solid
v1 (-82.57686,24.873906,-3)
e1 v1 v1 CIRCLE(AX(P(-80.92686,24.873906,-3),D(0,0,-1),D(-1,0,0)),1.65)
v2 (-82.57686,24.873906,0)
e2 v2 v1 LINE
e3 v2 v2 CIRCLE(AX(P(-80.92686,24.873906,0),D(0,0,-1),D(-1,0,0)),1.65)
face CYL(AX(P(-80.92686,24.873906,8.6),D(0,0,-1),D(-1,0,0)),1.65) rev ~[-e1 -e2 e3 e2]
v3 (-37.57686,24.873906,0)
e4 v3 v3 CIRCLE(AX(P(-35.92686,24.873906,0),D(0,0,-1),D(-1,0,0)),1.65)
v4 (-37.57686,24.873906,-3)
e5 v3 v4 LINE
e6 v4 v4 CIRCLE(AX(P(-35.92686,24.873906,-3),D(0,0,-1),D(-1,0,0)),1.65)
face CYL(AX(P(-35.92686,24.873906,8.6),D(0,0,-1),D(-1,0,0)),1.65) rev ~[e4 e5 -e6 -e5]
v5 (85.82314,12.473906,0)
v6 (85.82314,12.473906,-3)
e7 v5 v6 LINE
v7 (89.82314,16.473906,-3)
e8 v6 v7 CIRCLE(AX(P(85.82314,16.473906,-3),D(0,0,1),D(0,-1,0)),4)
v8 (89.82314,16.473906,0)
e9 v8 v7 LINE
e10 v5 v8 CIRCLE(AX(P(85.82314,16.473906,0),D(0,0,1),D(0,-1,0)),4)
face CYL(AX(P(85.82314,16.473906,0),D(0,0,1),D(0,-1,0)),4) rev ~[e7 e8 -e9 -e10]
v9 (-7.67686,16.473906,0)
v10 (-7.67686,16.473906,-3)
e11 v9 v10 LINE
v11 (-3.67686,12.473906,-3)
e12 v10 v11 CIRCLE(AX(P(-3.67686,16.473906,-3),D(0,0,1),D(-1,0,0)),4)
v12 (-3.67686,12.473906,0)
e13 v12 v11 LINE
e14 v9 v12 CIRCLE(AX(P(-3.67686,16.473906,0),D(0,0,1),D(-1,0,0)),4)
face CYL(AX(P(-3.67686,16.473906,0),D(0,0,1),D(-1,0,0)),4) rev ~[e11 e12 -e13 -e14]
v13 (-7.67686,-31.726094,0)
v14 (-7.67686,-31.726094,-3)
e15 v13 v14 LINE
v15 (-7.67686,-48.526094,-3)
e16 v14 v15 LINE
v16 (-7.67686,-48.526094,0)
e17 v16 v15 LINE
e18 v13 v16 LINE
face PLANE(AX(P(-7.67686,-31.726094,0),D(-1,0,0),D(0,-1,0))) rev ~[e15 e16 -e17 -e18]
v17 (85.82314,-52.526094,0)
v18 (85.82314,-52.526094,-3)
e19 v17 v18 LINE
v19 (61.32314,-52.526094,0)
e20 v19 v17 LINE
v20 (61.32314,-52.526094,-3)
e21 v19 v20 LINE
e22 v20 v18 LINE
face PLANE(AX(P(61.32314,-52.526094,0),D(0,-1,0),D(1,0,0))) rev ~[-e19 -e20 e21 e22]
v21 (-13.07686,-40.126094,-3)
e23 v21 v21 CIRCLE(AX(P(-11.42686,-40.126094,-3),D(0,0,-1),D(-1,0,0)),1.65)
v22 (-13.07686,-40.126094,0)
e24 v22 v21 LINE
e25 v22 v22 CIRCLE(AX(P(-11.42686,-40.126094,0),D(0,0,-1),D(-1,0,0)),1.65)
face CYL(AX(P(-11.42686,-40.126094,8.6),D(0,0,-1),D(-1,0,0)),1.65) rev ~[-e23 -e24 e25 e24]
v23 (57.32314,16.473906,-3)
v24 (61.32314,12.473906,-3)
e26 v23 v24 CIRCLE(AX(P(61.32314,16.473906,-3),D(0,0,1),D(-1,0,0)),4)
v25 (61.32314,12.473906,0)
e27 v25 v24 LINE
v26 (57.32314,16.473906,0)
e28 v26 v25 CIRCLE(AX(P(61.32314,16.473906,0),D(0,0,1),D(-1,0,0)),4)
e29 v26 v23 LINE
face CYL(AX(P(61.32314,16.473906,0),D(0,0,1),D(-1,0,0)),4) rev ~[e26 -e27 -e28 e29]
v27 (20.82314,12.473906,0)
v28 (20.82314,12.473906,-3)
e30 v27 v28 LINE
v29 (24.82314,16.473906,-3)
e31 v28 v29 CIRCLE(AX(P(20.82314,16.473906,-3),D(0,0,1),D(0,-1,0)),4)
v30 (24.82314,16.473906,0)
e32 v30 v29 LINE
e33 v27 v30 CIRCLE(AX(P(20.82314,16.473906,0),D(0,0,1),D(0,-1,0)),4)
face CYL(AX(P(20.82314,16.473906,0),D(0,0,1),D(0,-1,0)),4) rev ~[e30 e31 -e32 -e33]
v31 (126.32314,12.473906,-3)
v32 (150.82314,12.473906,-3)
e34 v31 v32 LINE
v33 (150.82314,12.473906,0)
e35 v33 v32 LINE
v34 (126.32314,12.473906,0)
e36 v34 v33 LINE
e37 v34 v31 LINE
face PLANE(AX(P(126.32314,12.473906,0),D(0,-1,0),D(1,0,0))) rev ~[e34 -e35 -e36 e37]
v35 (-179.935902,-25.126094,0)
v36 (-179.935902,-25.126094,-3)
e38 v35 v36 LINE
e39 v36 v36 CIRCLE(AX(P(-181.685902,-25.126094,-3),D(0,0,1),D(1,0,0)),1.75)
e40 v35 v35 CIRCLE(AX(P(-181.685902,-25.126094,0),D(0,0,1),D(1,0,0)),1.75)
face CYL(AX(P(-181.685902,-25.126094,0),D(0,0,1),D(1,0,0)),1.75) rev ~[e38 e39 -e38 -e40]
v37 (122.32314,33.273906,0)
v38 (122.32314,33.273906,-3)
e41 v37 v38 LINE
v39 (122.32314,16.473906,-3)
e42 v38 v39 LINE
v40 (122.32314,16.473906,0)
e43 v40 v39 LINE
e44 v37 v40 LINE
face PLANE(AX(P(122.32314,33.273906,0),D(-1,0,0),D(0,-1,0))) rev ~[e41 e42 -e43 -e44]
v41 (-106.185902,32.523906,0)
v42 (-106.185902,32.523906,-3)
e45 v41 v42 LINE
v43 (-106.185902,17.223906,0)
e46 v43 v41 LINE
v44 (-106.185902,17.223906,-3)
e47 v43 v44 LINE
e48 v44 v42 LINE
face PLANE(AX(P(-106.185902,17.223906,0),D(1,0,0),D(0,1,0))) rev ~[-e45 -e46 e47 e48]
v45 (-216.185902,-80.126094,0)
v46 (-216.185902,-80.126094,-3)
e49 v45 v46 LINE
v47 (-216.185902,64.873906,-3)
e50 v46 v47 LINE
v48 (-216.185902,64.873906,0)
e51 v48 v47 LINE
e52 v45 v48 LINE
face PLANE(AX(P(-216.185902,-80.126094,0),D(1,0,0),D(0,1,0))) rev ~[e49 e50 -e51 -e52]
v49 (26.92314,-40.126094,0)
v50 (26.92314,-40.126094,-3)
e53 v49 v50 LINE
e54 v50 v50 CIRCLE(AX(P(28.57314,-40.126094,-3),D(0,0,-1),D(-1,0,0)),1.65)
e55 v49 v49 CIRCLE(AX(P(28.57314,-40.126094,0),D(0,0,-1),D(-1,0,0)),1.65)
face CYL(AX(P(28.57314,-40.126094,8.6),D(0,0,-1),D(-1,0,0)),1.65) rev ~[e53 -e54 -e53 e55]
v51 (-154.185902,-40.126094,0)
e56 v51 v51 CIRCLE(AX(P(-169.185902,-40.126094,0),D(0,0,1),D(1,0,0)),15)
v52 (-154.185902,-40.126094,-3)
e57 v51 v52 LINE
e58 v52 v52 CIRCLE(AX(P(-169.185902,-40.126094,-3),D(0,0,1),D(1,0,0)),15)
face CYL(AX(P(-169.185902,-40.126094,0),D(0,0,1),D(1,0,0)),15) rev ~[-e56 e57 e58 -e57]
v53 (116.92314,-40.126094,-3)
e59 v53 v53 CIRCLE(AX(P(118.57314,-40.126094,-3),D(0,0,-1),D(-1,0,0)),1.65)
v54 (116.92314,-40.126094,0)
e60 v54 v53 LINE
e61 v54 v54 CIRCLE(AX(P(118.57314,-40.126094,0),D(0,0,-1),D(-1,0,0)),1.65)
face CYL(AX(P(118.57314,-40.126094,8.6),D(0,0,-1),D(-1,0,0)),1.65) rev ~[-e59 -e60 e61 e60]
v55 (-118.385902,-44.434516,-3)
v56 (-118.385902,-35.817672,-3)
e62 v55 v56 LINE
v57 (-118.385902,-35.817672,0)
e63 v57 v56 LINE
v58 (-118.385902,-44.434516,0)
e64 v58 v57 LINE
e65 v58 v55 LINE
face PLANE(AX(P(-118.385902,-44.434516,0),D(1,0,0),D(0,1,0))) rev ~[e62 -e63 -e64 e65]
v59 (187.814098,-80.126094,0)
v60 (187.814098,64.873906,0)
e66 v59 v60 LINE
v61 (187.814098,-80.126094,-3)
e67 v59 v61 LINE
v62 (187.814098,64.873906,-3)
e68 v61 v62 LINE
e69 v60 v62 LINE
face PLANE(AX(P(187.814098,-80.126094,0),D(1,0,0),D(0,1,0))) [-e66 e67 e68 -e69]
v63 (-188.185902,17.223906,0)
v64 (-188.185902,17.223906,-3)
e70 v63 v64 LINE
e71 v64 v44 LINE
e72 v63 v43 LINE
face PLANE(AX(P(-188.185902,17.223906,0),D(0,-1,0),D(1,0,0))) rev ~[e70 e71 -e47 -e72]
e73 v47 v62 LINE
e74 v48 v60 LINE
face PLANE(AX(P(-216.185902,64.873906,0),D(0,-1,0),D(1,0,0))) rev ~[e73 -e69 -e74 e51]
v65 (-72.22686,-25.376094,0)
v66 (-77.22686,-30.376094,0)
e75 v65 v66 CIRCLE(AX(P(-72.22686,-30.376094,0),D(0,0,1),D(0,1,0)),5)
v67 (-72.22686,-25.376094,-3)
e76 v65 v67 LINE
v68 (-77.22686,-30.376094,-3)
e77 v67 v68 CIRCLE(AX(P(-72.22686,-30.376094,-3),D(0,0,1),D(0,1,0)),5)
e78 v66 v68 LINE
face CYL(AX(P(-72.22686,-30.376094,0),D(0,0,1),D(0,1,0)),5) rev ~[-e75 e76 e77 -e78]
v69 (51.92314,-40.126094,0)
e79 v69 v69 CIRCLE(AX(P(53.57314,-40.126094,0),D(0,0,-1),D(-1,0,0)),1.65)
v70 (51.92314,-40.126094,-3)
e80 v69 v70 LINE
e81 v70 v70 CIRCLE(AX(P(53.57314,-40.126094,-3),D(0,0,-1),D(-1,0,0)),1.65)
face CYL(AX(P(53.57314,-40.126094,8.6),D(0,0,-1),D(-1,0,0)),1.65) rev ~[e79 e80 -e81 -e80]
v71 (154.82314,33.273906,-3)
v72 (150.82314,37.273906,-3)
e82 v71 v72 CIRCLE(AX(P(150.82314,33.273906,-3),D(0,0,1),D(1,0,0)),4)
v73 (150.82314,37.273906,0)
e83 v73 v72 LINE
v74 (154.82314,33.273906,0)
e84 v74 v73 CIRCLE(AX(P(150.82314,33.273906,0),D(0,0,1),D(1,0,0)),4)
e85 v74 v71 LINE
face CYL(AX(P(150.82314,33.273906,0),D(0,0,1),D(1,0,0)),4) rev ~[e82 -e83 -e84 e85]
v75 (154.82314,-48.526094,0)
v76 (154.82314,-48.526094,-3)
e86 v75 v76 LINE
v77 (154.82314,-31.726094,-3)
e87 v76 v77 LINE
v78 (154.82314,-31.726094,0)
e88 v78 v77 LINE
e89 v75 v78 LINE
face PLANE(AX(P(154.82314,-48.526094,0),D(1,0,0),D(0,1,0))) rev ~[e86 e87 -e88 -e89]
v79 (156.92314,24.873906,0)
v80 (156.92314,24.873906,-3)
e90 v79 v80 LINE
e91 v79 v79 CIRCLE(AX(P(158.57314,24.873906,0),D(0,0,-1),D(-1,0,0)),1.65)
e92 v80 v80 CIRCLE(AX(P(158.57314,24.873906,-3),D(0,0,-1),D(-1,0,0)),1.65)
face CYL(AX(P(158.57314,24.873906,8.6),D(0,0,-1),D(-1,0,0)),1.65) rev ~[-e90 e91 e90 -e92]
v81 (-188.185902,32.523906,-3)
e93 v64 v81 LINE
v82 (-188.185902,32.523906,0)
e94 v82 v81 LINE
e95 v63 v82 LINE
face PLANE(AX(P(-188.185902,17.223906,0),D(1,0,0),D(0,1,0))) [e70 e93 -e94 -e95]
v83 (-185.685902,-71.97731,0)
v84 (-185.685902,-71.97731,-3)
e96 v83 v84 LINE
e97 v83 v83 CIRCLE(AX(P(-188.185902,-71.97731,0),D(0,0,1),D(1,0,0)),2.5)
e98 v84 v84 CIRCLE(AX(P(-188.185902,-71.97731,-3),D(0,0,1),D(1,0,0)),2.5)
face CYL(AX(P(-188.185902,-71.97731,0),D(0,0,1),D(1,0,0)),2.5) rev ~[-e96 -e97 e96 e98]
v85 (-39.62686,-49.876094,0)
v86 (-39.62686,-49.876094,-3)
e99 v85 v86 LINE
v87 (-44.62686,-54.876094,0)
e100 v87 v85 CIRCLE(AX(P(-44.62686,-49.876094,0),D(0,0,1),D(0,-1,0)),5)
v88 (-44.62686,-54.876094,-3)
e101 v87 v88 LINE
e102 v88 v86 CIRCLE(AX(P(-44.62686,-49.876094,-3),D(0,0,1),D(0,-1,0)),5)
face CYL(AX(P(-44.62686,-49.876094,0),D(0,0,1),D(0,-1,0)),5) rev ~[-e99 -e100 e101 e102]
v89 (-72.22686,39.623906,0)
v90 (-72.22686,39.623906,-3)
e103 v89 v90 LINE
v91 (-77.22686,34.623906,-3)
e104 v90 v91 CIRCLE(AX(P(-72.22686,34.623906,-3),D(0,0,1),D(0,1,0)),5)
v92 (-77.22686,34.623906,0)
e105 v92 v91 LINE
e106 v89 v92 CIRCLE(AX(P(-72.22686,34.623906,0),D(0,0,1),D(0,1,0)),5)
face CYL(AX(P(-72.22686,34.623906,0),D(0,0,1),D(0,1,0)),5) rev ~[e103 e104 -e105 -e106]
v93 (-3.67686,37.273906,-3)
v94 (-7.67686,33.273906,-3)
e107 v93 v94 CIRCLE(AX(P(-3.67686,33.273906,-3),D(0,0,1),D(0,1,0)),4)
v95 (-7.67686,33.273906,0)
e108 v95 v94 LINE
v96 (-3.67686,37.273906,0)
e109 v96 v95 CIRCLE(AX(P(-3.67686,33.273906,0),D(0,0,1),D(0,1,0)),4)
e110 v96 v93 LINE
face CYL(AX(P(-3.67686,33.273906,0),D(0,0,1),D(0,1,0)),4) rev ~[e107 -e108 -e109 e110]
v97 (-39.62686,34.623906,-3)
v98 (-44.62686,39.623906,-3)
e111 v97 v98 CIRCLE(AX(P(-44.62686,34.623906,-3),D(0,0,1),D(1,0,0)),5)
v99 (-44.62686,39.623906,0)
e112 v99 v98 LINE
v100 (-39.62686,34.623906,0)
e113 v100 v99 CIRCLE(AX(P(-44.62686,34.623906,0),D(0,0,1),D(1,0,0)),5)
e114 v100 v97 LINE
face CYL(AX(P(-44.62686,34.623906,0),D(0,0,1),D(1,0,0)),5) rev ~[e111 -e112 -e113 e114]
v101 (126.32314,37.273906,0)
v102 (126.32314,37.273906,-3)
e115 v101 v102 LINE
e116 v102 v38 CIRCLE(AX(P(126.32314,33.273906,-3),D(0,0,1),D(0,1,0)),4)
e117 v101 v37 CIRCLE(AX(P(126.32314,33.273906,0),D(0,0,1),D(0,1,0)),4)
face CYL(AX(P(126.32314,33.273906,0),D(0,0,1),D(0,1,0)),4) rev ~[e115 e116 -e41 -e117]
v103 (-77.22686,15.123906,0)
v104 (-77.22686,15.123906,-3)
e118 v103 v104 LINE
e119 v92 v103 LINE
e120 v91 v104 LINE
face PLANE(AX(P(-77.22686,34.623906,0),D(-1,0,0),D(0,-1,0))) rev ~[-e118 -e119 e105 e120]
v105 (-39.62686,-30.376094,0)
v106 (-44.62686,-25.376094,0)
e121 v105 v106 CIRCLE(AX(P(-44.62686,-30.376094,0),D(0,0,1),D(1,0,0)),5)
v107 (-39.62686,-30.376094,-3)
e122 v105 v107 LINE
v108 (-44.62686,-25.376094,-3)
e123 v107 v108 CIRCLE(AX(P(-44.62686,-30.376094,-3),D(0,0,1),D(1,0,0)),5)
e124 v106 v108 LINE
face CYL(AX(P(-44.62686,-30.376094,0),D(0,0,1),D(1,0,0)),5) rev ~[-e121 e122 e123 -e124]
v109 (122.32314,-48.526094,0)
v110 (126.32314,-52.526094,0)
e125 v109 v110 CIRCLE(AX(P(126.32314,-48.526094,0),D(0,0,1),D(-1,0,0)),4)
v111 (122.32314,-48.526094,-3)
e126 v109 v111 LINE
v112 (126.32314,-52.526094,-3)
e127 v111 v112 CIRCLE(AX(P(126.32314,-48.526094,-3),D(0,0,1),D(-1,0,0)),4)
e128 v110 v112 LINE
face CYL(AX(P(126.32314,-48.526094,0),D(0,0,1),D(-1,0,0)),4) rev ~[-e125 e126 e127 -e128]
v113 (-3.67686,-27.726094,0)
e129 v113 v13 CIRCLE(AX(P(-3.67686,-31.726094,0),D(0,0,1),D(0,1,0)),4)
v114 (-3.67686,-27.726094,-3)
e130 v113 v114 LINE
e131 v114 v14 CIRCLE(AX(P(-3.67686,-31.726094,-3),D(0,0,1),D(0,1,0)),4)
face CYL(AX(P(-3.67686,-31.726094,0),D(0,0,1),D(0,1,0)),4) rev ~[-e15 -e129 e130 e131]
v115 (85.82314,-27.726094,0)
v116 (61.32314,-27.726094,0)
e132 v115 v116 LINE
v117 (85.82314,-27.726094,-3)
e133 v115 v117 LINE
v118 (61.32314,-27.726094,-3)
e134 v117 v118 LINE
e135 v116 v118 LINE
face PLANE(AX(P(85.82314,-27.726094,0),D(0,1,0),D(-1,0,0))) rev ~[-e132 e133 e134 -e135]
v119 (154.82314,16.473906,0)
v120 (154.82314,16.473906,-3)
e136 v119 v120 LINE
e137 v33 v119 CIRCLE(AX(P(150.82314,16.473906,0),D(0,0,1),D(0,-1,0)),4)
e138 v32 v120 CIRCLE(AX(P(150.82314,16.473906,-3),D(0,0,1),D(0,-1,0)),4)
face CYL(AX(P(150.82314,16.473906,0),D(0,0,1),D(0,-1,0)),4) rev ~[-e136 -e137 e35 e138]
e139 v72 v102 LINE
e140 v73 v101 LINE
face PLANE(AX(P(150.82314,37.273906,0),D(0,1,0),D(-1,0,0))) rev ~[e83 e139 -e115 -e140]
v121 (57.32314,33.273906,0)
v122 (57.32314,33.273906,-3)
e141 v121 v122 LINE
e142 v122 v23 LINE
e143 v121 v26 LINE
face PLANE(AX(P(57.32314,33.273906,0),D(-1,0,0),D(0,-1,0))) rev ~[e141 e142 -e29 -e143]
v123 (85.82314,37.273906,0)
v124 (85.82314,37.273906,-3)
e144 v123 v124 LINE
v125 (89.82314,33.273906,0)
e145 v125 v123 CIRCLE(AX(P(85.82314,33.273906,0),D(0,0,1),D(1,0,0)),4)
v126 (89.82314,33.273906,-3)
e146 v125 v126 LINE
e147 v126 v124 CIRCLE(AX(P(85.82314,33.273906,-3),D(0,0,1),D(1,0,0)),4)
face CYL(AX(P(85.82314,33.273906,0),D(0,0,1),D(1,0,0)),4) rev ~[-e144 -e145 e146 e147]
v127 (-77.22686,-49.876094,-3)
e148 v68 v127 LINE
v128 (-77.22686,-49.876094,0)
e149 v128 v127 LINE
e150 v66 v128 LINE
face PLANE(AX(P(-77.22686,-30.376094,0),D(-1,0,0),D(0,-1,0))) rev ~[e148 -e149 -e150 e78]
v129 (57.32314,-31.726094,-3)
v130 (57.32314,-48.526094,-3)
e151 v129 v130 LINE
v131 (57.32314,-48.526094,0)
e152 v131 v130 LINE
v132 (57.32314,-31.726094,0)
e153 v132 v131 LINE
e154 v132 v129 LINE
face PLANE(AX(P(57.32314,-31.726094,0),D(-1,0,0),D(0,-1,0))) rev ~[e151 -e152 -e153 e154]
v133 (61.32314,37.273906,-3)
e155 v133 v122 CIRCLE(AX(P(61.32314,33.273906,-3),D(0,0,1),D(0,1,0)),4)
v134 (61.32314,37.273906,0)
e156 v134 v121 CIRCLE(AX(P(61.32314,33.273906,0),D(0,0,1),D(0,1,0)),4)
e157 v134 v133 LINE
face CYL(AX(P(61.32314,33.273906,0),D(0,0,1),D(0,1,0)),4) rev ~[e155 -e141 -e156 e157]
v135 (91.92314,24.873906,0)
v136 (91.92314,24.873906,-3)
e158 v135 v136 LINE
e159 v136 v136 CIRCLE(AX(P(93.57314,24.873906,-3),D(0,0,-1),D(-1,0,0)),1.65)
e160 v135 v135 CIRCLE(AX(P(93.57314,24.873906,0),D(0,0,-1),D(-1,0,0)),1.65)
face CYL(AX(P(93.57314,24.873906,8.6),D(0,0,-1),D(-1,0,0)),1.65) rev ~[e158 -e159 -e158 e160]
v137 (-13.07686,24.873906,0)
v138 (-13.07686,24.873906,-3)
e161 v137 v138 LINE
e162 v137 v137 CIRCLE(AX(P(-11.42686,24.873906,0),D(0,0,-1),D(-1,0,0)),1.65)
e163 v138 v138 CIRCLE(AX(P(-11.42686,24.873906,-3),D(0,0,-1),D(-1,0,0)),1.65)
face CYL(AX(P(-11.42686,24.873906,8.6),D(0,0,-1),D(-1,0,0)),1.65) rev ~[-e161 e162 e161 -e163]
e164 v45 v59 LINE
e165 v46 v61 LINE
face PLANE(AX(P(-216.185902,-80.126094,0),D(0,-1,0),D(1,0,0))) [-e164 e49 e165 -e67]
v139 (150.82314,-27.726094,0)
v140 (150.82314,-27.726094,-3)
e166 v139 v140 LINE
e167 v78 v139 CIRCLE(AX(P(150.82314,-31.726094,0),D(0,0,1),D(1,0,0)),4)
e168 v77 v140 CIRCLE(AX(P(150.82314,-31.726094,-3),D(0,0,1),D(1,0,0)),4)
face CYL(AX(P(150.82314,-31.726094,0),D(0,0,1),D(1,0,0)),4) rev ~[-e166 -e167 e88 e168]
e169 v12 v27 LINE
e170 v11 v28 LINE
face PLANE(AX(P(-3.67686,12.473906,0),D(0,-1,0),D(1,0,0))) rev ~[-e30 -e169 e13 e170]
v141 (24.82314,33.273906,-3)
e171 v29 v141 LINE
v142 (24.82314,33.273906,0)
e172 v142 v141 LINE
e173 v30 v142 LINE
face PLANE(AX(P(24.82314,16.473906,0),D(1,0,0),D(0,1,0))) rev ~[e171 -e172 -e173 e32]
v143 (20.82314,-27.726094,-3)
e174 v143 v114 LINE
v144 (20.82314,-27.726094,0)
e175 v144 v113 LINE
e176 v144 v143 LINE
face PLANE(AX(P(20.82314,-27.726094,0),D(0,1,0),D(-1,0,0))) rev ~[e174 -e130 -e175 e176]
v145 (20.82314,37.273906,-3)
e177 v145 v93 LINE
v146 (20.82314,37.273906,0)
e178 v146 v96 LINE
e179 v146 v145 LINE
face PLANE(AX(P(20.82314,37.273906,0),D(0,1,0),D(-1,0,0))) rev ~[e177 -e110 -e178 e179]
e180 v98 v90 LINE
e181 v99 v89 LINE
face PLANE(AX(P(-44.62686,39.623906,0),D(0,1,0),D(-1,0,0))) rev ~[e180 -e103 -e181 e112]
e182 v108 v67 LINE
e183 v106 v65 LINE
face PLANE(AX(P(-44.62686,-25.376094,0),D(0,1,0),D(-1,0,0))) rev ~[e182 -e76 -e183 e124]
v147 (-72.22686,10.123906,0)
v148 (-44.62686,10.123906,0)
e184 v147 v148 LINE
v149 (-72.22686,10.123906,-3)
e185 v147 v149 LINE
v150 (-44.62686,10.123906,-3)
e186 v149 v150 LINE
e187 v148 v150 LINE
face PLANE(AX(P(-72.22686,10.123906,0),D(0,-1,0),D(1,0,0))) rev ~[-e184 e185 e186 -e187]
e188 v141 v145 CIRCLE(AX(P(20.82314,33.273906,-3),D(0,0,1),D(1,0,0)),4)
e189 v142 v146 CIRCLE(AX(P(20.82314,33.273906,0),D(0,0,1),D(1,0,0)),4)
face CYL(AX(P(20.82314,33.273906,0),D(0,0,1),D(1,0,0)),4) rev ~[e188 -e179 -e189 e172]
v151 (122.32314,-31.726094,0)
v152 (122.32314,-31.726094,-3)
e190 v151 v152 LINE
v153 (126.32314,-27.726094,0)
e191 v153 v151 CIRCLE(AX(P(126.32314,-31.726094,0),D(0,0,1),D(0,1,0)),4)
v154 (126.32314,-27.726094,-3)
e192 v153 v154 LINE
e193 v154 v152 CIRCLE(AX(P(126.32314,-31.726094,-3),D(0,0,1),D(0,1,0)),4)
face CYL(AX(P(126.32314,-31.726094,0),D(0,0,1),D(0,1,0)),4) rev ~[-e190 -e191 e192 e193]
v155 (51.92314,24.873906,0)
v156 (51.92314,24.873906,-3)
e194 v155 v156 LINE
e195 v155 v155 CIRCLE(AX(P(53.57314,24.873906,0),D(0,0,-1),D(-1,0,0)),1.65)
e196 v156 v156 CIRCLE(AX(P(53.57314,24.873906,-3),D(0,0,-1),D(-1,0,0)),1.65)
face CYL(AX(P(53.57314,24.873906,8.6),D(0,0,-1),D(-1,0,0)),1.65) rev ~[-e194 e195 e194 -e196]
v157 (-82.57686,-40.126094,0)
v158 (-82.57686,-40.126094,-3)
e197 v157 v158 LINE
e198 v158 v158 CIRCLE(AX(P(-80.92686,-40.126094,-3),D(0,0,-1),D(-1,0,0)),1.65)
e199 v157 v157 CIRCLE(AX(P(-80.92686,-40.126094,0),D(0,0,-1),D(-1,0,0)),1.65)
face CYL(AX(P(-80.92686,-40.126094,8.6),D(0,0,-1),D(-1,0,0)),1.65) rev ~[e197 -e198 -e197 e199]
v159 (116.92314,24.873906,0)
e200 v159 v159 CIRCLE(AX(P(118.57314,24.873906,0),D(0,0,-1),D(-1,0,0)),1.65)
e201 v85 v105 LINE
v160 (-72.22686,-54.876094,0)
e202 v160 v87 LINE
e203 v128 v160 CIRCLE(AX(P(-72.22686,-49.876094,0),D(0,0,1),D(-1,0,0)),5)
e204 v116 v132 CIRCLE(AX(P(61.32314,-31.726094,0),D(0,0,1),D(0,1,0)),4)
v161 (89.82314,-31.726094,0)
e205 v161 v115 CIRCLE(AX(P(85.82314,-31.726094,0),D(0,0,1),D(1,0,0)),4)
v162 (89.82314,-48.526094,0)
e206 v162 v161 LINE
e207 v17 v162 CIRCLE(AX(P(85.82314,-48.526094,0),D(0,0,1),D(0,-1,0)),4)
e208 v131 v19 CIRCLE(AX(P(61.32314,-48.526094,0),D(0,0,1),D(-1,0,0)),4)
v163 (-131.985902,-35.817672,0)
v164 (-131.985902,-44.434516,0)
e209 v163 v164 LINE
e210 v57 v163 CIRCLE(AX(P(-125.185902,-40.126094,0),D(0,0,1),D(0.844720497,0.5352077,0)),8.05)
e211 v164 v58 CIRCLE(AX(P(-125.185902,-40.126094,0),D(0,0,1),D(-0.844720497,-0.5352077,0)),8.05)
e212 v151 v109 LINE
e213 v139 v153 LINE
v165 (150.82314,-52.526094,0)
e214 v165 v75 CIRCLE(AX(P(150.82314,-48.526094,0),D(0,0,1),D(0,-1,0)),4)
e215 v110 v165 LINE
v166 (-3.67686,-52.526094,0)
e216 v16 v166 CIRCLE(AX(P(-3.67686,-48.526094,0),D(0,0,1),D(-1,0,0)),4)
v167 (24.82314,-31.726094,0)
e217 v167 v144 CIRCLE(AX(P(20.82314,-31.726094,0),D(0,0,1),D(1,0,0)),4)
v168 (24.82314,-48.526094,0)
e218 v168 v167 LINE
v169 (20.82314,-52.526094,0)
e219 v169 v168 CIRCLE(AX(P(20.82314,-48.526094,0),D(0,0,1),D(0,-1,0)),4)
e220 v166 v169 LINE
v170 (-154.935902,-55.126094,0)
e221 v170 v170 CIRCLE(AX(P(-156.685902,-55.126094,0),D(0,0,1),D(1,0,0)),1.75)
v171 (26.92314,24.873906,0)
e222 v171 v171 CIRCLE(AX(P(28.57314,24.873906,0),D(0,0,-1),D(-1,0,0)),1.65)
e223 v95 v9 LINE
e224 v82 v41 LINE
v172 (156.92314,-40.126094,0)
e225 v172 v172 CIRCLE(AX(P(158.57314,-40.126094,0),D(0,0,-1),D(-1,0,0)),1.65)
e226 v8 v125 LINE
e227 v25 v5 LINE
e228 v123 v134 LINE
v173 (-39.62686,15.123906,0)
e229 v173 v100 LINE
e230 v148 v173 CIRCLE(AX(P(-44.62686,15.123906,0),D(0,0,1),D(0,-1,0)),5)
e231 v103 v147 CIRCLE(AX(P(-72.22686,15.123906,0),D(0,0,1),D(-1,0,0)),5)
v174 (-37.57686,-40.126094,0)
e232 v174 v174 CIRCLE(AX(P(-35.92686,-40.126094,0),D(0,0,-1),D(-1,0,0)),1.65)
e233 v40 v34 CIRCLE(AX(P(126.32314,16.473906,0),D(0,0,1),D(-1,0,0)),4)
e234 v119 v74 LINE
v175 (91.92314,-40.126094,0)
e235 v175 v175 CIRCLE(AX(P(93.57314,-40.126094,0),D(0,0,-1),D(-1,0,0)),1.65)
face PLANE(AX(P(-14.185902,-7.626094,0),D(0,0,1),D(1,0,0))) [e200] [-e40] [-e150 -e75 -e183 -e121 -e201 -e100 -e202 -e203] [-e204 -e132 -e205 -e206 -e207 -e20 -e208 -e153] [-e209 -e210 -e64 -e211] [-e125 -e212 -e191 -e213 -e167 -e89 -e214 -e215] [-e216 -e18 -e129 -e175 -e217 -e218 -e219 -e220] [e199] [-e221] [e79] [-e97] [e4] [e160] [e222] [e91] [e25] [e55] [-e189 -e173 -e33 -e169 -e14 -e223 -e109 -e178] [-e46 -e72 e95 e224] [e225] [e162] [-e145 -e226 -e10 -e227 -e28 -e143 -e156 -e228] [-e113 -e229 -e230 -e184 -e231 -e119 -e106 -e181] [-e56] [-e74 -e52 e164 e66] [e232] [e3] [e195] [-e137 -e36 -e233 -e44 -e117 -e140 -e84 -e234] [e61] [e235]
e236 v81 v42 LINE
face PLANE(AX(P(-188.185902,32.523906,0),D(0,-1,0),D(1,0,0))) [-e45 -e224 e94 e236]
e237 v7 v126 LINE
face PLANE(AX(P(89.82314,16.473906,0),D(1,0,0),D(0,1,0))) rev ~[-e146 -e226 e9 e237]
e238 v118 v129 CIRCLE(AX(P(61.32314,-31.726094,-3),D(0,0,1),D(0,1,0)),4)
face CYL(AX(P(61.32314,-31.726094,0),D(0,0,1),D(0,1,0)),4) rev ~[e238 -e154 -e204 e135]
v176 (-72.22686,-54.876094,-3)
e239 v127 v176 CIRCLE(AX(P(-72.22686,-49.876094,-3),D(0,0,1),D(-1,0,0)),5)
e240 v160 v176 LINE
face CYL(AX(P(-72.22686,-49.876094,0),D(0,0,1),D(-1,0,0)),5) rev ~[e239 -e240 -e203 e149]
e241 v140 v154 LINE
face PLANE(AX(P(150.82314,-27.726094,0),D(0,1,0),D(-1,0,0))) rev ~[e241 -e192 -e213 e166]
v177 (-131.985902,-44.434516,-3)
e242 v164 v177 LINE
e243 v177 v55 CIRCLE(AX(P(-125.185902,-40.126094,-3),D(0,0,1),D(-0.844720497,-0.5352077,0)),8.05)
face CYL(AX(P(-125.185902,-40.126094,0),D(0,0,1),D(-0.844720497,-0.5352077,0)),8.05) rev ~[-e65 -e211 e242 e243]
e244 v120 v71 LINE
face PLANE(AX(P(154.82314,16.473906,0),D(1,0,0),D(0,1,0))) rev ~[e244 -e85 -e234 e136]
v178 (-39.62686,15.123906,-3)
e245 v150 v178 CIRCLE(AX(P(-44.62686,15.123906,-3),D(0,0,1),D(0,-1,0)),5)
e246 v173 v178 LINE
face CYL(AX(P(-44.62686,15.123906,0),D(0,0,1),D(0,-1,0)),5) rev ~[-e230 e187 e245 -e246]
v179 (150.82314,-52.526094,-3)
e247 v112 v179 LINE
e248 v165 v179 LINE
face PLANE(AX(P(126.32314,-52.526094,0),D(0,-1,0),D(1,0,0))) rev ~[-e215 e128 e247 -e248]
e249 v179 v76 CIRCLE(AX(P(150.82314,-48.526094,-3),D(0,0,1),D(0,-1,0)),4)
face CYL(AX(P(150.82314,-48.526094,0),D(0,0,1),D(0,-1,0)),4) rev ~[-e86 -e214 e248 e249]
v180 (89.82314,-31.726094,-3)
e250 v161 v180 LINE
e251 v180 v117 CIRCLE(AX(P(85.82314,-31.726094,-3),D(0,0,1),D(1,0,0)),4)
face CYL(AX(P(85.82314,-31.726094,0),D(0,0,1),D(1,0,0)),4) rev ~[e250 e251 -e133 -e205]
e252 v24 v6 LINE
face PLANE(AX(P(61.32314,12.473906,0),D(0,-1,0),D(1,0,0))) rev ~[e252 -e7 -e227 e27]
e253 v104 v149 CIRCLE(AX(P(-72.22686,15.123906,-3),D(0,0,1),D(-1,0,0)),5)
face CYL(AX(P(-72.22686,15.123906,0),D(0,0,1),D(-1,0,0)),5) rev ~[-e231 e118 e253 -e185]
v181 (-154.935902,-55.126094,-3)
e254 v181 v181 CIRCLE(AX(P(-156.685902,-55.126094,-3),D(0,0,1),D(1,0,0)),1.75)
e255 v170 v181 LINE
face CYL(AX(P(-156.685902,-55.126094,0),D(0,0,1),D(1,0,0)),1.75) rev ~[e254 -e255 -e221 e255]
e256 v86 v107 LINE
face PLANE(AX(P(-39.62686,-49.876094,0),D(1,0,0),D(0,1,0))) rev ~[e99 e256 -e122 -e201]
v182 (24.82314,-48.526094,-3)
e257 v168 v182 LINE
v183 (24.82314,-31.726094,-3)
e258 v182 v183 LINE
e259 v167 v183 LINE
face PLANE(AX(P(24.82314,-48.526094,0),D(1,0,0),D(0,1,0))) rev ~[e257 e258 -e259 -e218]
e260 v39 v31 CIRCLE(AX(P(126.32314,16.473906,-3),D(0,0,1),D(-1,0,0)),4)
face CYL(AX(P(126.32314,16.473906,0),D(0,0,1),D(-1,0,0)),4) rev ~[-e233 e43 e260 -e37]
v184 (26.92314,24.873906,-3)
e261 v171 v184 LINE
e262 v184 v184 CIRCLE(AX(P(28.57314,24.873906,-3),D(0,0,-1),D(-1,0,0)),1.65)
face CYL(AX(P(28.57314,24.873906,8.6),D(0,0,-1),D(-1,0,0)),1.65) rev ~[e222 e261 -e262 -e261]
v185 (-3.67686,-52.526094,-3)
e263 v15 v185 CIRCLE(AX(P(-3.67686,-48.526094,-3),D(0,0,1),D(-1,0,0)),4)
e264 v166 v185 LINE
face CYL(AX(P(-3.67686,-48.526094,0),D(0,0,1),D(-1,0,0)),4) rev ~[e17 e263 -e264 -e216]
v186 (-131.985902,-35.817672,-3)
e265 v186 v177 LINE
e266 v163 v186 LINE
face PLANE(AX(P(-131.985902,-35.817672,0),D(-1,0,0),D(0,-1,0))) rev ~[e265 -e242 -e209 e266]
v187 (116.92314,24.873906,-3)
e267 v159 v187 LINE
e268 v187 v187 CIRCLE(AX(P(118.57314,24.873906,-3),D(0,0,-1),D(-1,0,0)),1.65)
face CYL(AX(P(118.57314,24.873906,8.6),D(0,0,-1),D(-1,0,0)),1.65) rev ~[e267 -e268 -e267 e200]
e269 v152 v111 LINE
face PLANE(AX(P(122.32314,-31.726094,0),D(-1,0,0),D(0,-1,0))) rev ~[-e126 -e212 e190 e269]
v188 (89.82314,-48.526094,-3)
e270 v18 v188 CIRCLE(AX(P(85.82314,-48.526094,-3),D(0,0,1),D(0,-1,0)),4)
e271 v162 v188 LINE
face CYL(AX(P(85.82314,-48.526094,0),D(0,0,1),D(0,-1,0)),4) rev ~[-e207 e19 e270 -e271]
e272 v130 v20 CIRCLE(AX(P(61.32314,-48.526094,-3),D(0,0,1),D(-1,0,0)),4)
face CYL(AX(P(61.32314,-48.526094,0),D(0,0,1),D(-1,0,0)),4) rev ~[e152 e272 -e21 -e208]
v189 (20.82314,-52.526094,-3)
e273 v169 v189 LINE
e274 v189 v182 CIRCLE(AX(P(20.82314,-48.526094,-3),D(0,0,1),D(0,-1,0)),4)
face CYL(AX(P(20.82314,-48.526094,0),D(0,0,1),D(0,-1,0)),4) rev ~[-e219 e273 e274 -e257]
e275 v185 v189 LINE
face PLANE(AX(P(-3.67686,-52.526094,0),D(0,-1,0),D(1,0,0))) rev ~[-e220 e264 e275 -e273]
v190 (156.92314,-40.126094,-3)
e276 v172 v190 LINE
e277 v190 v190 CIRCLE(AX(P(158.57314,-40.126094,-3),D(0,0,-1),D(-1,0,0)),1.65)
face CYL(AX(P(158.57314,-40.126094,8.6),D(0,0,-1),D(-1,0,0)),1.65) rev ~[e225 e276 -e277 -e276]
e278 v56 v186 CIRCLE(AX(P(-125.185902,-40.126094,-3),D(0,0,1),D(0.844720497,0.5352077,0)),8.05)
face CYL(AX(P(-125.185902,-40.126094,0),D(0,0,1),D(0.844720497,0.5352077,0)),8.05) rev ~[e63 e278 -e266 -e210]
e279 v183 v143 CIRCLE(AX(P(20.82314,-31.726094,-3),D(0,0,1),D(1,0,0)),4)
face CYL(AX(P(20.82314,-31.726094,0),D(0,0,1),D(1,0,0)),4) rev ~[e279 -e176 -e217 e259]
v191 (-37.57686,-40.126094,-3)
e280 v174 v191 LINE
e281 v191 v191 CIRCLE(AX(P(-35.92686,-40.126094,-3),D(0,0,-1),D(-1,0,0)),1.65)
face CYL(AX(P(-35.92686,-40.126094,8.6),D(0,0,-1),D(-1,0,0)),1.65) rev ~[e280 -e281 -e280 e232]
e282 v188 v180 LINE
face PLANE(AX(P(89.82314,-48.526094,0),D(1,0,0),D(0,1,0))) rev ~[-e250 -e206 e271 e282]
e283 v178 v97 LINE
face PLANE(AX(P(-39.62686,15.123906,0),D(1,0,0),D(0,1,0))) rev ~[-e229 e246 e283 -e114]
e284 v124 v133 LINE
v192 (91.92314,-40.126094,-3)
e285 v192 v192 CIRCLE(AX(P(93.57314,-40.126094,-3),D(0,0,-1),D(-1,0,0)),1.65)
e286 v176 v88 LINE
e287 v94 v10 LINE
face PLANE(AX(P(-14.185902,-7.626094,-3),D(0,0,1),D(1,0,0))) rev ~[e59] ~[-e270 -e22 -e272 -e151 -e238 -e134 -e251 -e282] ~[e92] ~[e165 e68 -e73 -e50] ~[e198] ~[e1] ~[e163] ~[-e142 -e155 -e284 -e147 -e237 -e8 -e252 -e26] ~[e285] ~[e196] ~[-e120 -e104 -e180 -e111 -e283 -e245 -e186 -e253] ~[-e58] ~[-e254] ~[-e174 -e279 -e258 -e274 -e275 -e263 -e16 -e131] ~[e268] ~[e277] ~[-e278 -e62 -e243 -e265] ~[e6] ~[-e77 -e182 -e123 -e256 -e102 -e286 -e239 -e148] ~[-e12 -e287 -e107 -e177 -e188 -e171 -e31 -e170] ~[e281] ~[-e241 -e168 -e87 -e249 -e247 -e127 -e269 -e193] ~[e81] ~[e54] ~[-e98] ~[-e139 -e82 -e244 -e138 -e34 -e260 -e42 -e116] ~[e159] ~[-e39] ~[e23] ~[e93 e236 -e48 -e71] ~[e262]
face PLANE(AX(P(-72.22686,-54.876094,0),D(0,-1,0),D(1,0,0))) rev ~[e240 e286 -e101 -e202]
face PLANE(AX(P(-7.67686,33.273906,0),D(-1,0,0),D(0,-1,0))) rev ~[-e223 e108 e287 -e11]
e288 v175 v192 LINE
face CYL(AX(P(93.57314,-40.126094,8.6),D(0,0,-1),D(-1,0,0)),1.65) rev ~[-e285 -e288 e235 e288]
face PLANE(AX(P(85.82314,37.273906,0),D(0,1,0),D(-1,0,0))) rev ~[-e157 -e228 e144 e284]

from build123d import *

# Parameters (mm, degrees)
F0_W     = 404
F0_H     = 145
F2_DEPTH = 3
F3_D     = 3.3
F3_DEPTH = 8.6
F3_TIP   = 0.9914200214
F1_R     = 1.5
F1_R_2   = 15
F1_R_3   = 1.75
F1_W     = 82
F1_H     = 15.3
F1_R_4   = 2.5
F4_DEPTH = 25


with BuildPart() as f2:
    # F0 (on Top) → F2 (new body)
    with BuildSketch(Plane.XY):
        with Locations((-14.1859020234, -7.6260944492)):
            Rectangle(F0_W, F0_H)
    extrude(amount=-F2_DEPTH)

    # F3
    with Locations(Plane.XY):
        with Locations((118.573140085, 24.8739055508), (158.573140085, 24.8739055508), (93.573140085, 24.8739055508), (53.573140085, 24.8739055508), (53.573140085, -40.1260944492), (93.573140085, -40.1260944492), (118.573140085, -40.1260944492), (158.573140085, -40.1260944492), (28.573140085, -40.1260944492), (-11.426859915, -40.1260944492), (-11.426859915, 24.8739055508), (28.573140085, 24.8739055508), (-35.926859915, 24.8739055508), (-80.926859915, 24.8739055508), (-80.926859915, -40.1260944492), (-35.926859915, -40.1260944492)):
            Hole(F3_D / 2, depth=F3_DEPTH)
            with Locations((0, 0, -(F3_DEPTH + F3_TIP / 2))):  # 118° drill point
                Cone(0, F3_D / 2, F3_TIP, mode=Mode.SUBTRACT)

    # F1 (on Top) → F4 (cut)
    with BuildSketch(Plane.XY):
        with BuildLine():
            Line((126.323140085, 12.4739055508), (150.823140085, 12.4739055508))
            ThreePointArc((150.823140085, 12.4739055508), (153.6515672098, 13.645478426), (154.823140085, 16.4739055508))
            Line((154.823140085, 16.4739055508), (154.823140085, 33.2739055508))
            ThreePointArc((154.823140085, 33.2739055508), (153.6515672098, 36.1023326755), (150.823140085, 37.2739055508))
            Line((150.823140085, 37.2739055508), (126.323140085, 37.2739055508))
            ThreePointArc((126.323140085, 37.2739055508), (123.4947129603, 36.1023326755), (122.323140085, 33.2739055508))
            Line((122.323140085, 33.2739055508), (122.323140085, 16.4739055508))
            ThreePointArc((122.323140085, 16.4739055508), (123.4947129603, 13.645478426), (126.323140085, 12.4739055508))
        make_face()
        with Locations((158.573140085, 24.8739055508)):
            Circle(F1_R)
        with Locations((118.573140085, 24.8739055508)):
            Circle(F1_R)
        with BuildLine():
            Line((-72.226859915, 10.1239055508), (-44.626859915, 10.1239055508))
            ThreePointArc((-44.626859915, 10.1239055508), (-41.091326009, 11.5883716448), (-39.626859915, 15.1239055508))
            Line((-39.626859915, 15.1239055508), (-39.626859915, 34.6239055508))
            ThreePointArc((-39.626859915, 34.6239055508), (-41.091326009, 38.1594394567), (-44.626859915, 39.6239055508))
            Line((-44.626859915, 39.6239055508), (-72.226859915, 39.6239055508))
            ThreePointArc((-72.226859915, 39.6239055508), (-75.7623938209, 38.1594394567), (-77.226859915, 34.6239055508))
            Line((-77.226859915, 34.6239055508), (-77.226859915, 15.1239055508))
            ThreePointArc((-77.226859915, 15.1239055508), (-75.7623938209, 11.5883716448), (-72.226859915, 10.1239055508))
        make_face()
        with Locations((-35.926859915, 24.8739055508)):
            Circle(F1_R)
        with Locations((-80.926859915, 24.8739055508)):
            Circle(F1_R)
        with BuildLine():
            Line((122.323140085, -31.7260944492), (122.323140085, -48.5260944492))
            ThreePointArc((122.323140085, -48.5260944492), (123.4947129603, -51.354521574), (126.323140085, -52.5260944492))
            Line((126.323140085, -52.5260944492), (150.823140085, -52.5260944492))
            ThreePointArc((150.823140085, -52.5260944492), (153.6515672098, -51.354521574), (154.823140085, -48.5260944492))
            Line((154.823140085, -48.5260944492), (154.823140085, -31.7260944492))
            ThreePointArc((154.823140085, -31.7260944492), (153.6515672098, -28.8976673245), (150.823140085, -27.7260944492))
            Line((150.823140085, -27.7260944492), (126.323140085, -27.7260944492))
            ThreePointArc((126.323140085, -27.7260944492), (123.4947129603, -28.8976673245), (122.323140085, -31.7260944492))
        make_face()
        with Locations((158.573140085, -40.1260944492)):
            Circle(F1_R)
        with Locations((118.573140085, -40.1260944492)):
            Circle(F1_R)
        with BuildLine():
            Line((57.323140085, 33.2739055508), (57.323140085, 16.4739055508))
            ThreePointArc((57.323140085, 16.4739055508), (58.4947129603, 13.645478426), (61.323140085, 12.4739055508))
            Line((61.323140085, 12.4739055508), (85.823140085, 12.4739055508))
            ThreePointArc((85.823140085, 12.4739055508), (88.6515672098, 13.645478426), (89.823140085, 16.4739055508))
            Line((89.823140085, 16.4739055508), (89.823140085, 33.2739055508))
            ThreePointArc((89.823140085, 33.2739055508), (88.6515672098, 36.1023326755), (85.823140085, 37.2739055508))
            Line((85.823140085, 37.2739055508), (61.323140085, 37.2739055508))
            ThreePointArc((61.323140085, 37.2739055508), (58.4947129603, 36.1023326755), (57.323140085, 33.2739055508))
        make_face()
        with Locations((93.573140085, 24.8739055508)):
            Circle(F1_R)
        with Locations((53.573140085, 24.8739055508)):
            Circle(F1_R)
        with BuildLine():
            Line((57.323140085, -31.7260944492), (57.323140085, -48.5260944492))
            ThreePointArc((57.323140085, -48.5260944492), (58.4947129603, -51.354521574), (61.323140085, -52.5260944492))
            Line((61.323140085, -52.5260944492), (85.823140085, -52.5260944492))
            ThreePointArc((85.823140085, -52.5260944492), (88.6515672098, -51.354521574), (89.823140085, -48.5260944492))
            Line((89.823140085, -48.5260944492), (89.823140085, -31.7260944492))
            ThreePointArc((89.823140085, -31.7260944492), (88.6515672098, -28.8976673245), (85.823140085, -27.7260944492))
            Line((85.823140085, -27.7260944492), (61.323140085, -27.7260944492))
            ThreePointArc((61.323140085, -27.7260944492), (58.4947129603, -28.8976673245), (57.323140085, -31.7260944492))
        make_face()
        with Locations((93.573140085, -40.1260944492)):
            Circle(F1_R)
        with Locations((53.573140085, -40.1260944492)):
            Circle(F1_R)
        with BuildLine():
            Line((-7.676859915, 33.2739055508), (-7.676859915, 16.4739055508))
            ThreePointArc((-7.676859915, 16.4739055508), (-6.5052870397, 13.645478426), (-3.676859915, 12.4739055508))
            Line((-3.676859915, 12.4739055508), (20.823140085, 12.4739055508))
            ThreePointArc((20.823140085, 12.4739055508), (23.6515672098, 13.645478426), (24.823140085, 16.4739055508))
            Line((24.823140085, 16.4739055508), (24.823140085, 33.2739055508))
            ThreePointArc((24.823140085, 33.2739055508), (23.6515672098, 36.1023326755), (20.823140085, 37.2739055508))
            Line((20.823140085, 37.2739055508), (-3.676859915, 37.2739055508))
            ThreePointArc((-3.676859915, 37.2739055508), (-6.5052870397, 36.1023326755), (-7.676859915, 33.2739055508))
        make_face()
        with Locations((28.573140085, 24.8739055508)):
            Circle(F1_R)
        with Locations((-11.426859915, 24.8739055508)):
            Circle(F1_R)
        with BuildLine():
            Line((-7.676859915, -31.7260944492), (-7.676859915, -48.5260944492))
            ThreePointArc((-7.676859915, -48.5260944492), (-6.5052870397, -51.354521574), (-3.676859915, -52.5260944492))
            Line((-3.676859915, -52.5260944492), (20.823140085, -52.5260944492))
            ThreePointArc((20.823140085, -52.5260944492), (23.6515672098, -51.354521574), (24.823140085, -48.5260944492))
            Line((24.823140085, -48.5260944492), (24.823140085, -31.7260944492))
            ThreePointArc((24.823140085, -31.7260944492), (23.6515672098, -28.8976673245), (20.823140085, -27.7260944492))
            Line((20.823140085, -27.7260944492), (-3.676859915, -27.7260944492))
            ThreePointArc((-3.676859915, -27.7260944492), (-6.5052870397, -28.8976673245), (-7.676859915, -31.7260944492))
        make_face()
        with Locations((28.573140085, -40.1260944492)):
            Circle(F1_R)
        with Locations((-11.426859915, -40.1260944492)):
            Circle(F1_R)
        with BuildLine():
            Line((-77.226859915, -30.3760944492), (-77.226859915, -49.8760944492))
            ThreePointArc((-77.226859915, -49.8760944492), (-75.7623938209, -53.4116283552), (-72.226859915, -54.8760944492))
            Line((-72.226859915, -54.8760944492), (-44.626859915, -54.8760944492))
            ThreePointArc((-44.626859915, -54.8760944492), (-41.091326009, -53.4116283552), (-39.626859915, -49.8760944492))
            Line((-39.626859915, -49.8760944492), (-39.626859915, -30.3760944492))
            ThreePointArc((-39.626859915, -30.3760944492), (-41.091326009, -26.8405605433), (-44.626859915, -25.3760944492))
            Line((-44.626859915, -25.3760944492), (-72.226859915, -25.3760944492))
            ThreePointArc((-72.226859915, -25.3760944492), (-75.7623938209, -26.8405605433), (-77.226859915, -30.3760944492))
        make_face()
        with Locations((-35.926859915, -40.1260944492)):
            Circle(F1_R)
        with Locations((-80.926859915, -40.1260944492)):
            Circle(F1_R)
        with Locations((-169.1859020234, -40.1260944492)):
            Circle(F1_R_2)
        with Locations((-156.6859020234, -55.1260944492)):
            Circle(F1_R_3)
        with Locations((-181.6859020234, -25.1260944492)):
            Circle(F1_R_3)
        with Locations((-147.1859020234, 24.8739055508)):
            Rectangle(F1_W, F1_H)
        with Locations((-188.1859020234, -71.9773098826)):
            Circle(F1_R_4)
        with BuildLine():
            Line((-131.9859020234, -35.8176724643), (-131.9859020234, -44.4345164341))
            ThreePointArc((-131.9859020234, -44.4345164341), (-125.1859020234, -48.1760944492), (-118.3859020234, -44.4345164341))
            Line((-118.3859020234, -44.4345164341), (-118.3859020234, -35.8176724643))
            ThreePointArc((-118.3859020234, -35.8176724643), (-125.1859020234, -32.0760944492), (-131.9859020234, -35.8176724643))
        make_face()
    extrude(amount=-F4_DEPTH, mode=Mode.SUBTRACT)


solid = f2.part
